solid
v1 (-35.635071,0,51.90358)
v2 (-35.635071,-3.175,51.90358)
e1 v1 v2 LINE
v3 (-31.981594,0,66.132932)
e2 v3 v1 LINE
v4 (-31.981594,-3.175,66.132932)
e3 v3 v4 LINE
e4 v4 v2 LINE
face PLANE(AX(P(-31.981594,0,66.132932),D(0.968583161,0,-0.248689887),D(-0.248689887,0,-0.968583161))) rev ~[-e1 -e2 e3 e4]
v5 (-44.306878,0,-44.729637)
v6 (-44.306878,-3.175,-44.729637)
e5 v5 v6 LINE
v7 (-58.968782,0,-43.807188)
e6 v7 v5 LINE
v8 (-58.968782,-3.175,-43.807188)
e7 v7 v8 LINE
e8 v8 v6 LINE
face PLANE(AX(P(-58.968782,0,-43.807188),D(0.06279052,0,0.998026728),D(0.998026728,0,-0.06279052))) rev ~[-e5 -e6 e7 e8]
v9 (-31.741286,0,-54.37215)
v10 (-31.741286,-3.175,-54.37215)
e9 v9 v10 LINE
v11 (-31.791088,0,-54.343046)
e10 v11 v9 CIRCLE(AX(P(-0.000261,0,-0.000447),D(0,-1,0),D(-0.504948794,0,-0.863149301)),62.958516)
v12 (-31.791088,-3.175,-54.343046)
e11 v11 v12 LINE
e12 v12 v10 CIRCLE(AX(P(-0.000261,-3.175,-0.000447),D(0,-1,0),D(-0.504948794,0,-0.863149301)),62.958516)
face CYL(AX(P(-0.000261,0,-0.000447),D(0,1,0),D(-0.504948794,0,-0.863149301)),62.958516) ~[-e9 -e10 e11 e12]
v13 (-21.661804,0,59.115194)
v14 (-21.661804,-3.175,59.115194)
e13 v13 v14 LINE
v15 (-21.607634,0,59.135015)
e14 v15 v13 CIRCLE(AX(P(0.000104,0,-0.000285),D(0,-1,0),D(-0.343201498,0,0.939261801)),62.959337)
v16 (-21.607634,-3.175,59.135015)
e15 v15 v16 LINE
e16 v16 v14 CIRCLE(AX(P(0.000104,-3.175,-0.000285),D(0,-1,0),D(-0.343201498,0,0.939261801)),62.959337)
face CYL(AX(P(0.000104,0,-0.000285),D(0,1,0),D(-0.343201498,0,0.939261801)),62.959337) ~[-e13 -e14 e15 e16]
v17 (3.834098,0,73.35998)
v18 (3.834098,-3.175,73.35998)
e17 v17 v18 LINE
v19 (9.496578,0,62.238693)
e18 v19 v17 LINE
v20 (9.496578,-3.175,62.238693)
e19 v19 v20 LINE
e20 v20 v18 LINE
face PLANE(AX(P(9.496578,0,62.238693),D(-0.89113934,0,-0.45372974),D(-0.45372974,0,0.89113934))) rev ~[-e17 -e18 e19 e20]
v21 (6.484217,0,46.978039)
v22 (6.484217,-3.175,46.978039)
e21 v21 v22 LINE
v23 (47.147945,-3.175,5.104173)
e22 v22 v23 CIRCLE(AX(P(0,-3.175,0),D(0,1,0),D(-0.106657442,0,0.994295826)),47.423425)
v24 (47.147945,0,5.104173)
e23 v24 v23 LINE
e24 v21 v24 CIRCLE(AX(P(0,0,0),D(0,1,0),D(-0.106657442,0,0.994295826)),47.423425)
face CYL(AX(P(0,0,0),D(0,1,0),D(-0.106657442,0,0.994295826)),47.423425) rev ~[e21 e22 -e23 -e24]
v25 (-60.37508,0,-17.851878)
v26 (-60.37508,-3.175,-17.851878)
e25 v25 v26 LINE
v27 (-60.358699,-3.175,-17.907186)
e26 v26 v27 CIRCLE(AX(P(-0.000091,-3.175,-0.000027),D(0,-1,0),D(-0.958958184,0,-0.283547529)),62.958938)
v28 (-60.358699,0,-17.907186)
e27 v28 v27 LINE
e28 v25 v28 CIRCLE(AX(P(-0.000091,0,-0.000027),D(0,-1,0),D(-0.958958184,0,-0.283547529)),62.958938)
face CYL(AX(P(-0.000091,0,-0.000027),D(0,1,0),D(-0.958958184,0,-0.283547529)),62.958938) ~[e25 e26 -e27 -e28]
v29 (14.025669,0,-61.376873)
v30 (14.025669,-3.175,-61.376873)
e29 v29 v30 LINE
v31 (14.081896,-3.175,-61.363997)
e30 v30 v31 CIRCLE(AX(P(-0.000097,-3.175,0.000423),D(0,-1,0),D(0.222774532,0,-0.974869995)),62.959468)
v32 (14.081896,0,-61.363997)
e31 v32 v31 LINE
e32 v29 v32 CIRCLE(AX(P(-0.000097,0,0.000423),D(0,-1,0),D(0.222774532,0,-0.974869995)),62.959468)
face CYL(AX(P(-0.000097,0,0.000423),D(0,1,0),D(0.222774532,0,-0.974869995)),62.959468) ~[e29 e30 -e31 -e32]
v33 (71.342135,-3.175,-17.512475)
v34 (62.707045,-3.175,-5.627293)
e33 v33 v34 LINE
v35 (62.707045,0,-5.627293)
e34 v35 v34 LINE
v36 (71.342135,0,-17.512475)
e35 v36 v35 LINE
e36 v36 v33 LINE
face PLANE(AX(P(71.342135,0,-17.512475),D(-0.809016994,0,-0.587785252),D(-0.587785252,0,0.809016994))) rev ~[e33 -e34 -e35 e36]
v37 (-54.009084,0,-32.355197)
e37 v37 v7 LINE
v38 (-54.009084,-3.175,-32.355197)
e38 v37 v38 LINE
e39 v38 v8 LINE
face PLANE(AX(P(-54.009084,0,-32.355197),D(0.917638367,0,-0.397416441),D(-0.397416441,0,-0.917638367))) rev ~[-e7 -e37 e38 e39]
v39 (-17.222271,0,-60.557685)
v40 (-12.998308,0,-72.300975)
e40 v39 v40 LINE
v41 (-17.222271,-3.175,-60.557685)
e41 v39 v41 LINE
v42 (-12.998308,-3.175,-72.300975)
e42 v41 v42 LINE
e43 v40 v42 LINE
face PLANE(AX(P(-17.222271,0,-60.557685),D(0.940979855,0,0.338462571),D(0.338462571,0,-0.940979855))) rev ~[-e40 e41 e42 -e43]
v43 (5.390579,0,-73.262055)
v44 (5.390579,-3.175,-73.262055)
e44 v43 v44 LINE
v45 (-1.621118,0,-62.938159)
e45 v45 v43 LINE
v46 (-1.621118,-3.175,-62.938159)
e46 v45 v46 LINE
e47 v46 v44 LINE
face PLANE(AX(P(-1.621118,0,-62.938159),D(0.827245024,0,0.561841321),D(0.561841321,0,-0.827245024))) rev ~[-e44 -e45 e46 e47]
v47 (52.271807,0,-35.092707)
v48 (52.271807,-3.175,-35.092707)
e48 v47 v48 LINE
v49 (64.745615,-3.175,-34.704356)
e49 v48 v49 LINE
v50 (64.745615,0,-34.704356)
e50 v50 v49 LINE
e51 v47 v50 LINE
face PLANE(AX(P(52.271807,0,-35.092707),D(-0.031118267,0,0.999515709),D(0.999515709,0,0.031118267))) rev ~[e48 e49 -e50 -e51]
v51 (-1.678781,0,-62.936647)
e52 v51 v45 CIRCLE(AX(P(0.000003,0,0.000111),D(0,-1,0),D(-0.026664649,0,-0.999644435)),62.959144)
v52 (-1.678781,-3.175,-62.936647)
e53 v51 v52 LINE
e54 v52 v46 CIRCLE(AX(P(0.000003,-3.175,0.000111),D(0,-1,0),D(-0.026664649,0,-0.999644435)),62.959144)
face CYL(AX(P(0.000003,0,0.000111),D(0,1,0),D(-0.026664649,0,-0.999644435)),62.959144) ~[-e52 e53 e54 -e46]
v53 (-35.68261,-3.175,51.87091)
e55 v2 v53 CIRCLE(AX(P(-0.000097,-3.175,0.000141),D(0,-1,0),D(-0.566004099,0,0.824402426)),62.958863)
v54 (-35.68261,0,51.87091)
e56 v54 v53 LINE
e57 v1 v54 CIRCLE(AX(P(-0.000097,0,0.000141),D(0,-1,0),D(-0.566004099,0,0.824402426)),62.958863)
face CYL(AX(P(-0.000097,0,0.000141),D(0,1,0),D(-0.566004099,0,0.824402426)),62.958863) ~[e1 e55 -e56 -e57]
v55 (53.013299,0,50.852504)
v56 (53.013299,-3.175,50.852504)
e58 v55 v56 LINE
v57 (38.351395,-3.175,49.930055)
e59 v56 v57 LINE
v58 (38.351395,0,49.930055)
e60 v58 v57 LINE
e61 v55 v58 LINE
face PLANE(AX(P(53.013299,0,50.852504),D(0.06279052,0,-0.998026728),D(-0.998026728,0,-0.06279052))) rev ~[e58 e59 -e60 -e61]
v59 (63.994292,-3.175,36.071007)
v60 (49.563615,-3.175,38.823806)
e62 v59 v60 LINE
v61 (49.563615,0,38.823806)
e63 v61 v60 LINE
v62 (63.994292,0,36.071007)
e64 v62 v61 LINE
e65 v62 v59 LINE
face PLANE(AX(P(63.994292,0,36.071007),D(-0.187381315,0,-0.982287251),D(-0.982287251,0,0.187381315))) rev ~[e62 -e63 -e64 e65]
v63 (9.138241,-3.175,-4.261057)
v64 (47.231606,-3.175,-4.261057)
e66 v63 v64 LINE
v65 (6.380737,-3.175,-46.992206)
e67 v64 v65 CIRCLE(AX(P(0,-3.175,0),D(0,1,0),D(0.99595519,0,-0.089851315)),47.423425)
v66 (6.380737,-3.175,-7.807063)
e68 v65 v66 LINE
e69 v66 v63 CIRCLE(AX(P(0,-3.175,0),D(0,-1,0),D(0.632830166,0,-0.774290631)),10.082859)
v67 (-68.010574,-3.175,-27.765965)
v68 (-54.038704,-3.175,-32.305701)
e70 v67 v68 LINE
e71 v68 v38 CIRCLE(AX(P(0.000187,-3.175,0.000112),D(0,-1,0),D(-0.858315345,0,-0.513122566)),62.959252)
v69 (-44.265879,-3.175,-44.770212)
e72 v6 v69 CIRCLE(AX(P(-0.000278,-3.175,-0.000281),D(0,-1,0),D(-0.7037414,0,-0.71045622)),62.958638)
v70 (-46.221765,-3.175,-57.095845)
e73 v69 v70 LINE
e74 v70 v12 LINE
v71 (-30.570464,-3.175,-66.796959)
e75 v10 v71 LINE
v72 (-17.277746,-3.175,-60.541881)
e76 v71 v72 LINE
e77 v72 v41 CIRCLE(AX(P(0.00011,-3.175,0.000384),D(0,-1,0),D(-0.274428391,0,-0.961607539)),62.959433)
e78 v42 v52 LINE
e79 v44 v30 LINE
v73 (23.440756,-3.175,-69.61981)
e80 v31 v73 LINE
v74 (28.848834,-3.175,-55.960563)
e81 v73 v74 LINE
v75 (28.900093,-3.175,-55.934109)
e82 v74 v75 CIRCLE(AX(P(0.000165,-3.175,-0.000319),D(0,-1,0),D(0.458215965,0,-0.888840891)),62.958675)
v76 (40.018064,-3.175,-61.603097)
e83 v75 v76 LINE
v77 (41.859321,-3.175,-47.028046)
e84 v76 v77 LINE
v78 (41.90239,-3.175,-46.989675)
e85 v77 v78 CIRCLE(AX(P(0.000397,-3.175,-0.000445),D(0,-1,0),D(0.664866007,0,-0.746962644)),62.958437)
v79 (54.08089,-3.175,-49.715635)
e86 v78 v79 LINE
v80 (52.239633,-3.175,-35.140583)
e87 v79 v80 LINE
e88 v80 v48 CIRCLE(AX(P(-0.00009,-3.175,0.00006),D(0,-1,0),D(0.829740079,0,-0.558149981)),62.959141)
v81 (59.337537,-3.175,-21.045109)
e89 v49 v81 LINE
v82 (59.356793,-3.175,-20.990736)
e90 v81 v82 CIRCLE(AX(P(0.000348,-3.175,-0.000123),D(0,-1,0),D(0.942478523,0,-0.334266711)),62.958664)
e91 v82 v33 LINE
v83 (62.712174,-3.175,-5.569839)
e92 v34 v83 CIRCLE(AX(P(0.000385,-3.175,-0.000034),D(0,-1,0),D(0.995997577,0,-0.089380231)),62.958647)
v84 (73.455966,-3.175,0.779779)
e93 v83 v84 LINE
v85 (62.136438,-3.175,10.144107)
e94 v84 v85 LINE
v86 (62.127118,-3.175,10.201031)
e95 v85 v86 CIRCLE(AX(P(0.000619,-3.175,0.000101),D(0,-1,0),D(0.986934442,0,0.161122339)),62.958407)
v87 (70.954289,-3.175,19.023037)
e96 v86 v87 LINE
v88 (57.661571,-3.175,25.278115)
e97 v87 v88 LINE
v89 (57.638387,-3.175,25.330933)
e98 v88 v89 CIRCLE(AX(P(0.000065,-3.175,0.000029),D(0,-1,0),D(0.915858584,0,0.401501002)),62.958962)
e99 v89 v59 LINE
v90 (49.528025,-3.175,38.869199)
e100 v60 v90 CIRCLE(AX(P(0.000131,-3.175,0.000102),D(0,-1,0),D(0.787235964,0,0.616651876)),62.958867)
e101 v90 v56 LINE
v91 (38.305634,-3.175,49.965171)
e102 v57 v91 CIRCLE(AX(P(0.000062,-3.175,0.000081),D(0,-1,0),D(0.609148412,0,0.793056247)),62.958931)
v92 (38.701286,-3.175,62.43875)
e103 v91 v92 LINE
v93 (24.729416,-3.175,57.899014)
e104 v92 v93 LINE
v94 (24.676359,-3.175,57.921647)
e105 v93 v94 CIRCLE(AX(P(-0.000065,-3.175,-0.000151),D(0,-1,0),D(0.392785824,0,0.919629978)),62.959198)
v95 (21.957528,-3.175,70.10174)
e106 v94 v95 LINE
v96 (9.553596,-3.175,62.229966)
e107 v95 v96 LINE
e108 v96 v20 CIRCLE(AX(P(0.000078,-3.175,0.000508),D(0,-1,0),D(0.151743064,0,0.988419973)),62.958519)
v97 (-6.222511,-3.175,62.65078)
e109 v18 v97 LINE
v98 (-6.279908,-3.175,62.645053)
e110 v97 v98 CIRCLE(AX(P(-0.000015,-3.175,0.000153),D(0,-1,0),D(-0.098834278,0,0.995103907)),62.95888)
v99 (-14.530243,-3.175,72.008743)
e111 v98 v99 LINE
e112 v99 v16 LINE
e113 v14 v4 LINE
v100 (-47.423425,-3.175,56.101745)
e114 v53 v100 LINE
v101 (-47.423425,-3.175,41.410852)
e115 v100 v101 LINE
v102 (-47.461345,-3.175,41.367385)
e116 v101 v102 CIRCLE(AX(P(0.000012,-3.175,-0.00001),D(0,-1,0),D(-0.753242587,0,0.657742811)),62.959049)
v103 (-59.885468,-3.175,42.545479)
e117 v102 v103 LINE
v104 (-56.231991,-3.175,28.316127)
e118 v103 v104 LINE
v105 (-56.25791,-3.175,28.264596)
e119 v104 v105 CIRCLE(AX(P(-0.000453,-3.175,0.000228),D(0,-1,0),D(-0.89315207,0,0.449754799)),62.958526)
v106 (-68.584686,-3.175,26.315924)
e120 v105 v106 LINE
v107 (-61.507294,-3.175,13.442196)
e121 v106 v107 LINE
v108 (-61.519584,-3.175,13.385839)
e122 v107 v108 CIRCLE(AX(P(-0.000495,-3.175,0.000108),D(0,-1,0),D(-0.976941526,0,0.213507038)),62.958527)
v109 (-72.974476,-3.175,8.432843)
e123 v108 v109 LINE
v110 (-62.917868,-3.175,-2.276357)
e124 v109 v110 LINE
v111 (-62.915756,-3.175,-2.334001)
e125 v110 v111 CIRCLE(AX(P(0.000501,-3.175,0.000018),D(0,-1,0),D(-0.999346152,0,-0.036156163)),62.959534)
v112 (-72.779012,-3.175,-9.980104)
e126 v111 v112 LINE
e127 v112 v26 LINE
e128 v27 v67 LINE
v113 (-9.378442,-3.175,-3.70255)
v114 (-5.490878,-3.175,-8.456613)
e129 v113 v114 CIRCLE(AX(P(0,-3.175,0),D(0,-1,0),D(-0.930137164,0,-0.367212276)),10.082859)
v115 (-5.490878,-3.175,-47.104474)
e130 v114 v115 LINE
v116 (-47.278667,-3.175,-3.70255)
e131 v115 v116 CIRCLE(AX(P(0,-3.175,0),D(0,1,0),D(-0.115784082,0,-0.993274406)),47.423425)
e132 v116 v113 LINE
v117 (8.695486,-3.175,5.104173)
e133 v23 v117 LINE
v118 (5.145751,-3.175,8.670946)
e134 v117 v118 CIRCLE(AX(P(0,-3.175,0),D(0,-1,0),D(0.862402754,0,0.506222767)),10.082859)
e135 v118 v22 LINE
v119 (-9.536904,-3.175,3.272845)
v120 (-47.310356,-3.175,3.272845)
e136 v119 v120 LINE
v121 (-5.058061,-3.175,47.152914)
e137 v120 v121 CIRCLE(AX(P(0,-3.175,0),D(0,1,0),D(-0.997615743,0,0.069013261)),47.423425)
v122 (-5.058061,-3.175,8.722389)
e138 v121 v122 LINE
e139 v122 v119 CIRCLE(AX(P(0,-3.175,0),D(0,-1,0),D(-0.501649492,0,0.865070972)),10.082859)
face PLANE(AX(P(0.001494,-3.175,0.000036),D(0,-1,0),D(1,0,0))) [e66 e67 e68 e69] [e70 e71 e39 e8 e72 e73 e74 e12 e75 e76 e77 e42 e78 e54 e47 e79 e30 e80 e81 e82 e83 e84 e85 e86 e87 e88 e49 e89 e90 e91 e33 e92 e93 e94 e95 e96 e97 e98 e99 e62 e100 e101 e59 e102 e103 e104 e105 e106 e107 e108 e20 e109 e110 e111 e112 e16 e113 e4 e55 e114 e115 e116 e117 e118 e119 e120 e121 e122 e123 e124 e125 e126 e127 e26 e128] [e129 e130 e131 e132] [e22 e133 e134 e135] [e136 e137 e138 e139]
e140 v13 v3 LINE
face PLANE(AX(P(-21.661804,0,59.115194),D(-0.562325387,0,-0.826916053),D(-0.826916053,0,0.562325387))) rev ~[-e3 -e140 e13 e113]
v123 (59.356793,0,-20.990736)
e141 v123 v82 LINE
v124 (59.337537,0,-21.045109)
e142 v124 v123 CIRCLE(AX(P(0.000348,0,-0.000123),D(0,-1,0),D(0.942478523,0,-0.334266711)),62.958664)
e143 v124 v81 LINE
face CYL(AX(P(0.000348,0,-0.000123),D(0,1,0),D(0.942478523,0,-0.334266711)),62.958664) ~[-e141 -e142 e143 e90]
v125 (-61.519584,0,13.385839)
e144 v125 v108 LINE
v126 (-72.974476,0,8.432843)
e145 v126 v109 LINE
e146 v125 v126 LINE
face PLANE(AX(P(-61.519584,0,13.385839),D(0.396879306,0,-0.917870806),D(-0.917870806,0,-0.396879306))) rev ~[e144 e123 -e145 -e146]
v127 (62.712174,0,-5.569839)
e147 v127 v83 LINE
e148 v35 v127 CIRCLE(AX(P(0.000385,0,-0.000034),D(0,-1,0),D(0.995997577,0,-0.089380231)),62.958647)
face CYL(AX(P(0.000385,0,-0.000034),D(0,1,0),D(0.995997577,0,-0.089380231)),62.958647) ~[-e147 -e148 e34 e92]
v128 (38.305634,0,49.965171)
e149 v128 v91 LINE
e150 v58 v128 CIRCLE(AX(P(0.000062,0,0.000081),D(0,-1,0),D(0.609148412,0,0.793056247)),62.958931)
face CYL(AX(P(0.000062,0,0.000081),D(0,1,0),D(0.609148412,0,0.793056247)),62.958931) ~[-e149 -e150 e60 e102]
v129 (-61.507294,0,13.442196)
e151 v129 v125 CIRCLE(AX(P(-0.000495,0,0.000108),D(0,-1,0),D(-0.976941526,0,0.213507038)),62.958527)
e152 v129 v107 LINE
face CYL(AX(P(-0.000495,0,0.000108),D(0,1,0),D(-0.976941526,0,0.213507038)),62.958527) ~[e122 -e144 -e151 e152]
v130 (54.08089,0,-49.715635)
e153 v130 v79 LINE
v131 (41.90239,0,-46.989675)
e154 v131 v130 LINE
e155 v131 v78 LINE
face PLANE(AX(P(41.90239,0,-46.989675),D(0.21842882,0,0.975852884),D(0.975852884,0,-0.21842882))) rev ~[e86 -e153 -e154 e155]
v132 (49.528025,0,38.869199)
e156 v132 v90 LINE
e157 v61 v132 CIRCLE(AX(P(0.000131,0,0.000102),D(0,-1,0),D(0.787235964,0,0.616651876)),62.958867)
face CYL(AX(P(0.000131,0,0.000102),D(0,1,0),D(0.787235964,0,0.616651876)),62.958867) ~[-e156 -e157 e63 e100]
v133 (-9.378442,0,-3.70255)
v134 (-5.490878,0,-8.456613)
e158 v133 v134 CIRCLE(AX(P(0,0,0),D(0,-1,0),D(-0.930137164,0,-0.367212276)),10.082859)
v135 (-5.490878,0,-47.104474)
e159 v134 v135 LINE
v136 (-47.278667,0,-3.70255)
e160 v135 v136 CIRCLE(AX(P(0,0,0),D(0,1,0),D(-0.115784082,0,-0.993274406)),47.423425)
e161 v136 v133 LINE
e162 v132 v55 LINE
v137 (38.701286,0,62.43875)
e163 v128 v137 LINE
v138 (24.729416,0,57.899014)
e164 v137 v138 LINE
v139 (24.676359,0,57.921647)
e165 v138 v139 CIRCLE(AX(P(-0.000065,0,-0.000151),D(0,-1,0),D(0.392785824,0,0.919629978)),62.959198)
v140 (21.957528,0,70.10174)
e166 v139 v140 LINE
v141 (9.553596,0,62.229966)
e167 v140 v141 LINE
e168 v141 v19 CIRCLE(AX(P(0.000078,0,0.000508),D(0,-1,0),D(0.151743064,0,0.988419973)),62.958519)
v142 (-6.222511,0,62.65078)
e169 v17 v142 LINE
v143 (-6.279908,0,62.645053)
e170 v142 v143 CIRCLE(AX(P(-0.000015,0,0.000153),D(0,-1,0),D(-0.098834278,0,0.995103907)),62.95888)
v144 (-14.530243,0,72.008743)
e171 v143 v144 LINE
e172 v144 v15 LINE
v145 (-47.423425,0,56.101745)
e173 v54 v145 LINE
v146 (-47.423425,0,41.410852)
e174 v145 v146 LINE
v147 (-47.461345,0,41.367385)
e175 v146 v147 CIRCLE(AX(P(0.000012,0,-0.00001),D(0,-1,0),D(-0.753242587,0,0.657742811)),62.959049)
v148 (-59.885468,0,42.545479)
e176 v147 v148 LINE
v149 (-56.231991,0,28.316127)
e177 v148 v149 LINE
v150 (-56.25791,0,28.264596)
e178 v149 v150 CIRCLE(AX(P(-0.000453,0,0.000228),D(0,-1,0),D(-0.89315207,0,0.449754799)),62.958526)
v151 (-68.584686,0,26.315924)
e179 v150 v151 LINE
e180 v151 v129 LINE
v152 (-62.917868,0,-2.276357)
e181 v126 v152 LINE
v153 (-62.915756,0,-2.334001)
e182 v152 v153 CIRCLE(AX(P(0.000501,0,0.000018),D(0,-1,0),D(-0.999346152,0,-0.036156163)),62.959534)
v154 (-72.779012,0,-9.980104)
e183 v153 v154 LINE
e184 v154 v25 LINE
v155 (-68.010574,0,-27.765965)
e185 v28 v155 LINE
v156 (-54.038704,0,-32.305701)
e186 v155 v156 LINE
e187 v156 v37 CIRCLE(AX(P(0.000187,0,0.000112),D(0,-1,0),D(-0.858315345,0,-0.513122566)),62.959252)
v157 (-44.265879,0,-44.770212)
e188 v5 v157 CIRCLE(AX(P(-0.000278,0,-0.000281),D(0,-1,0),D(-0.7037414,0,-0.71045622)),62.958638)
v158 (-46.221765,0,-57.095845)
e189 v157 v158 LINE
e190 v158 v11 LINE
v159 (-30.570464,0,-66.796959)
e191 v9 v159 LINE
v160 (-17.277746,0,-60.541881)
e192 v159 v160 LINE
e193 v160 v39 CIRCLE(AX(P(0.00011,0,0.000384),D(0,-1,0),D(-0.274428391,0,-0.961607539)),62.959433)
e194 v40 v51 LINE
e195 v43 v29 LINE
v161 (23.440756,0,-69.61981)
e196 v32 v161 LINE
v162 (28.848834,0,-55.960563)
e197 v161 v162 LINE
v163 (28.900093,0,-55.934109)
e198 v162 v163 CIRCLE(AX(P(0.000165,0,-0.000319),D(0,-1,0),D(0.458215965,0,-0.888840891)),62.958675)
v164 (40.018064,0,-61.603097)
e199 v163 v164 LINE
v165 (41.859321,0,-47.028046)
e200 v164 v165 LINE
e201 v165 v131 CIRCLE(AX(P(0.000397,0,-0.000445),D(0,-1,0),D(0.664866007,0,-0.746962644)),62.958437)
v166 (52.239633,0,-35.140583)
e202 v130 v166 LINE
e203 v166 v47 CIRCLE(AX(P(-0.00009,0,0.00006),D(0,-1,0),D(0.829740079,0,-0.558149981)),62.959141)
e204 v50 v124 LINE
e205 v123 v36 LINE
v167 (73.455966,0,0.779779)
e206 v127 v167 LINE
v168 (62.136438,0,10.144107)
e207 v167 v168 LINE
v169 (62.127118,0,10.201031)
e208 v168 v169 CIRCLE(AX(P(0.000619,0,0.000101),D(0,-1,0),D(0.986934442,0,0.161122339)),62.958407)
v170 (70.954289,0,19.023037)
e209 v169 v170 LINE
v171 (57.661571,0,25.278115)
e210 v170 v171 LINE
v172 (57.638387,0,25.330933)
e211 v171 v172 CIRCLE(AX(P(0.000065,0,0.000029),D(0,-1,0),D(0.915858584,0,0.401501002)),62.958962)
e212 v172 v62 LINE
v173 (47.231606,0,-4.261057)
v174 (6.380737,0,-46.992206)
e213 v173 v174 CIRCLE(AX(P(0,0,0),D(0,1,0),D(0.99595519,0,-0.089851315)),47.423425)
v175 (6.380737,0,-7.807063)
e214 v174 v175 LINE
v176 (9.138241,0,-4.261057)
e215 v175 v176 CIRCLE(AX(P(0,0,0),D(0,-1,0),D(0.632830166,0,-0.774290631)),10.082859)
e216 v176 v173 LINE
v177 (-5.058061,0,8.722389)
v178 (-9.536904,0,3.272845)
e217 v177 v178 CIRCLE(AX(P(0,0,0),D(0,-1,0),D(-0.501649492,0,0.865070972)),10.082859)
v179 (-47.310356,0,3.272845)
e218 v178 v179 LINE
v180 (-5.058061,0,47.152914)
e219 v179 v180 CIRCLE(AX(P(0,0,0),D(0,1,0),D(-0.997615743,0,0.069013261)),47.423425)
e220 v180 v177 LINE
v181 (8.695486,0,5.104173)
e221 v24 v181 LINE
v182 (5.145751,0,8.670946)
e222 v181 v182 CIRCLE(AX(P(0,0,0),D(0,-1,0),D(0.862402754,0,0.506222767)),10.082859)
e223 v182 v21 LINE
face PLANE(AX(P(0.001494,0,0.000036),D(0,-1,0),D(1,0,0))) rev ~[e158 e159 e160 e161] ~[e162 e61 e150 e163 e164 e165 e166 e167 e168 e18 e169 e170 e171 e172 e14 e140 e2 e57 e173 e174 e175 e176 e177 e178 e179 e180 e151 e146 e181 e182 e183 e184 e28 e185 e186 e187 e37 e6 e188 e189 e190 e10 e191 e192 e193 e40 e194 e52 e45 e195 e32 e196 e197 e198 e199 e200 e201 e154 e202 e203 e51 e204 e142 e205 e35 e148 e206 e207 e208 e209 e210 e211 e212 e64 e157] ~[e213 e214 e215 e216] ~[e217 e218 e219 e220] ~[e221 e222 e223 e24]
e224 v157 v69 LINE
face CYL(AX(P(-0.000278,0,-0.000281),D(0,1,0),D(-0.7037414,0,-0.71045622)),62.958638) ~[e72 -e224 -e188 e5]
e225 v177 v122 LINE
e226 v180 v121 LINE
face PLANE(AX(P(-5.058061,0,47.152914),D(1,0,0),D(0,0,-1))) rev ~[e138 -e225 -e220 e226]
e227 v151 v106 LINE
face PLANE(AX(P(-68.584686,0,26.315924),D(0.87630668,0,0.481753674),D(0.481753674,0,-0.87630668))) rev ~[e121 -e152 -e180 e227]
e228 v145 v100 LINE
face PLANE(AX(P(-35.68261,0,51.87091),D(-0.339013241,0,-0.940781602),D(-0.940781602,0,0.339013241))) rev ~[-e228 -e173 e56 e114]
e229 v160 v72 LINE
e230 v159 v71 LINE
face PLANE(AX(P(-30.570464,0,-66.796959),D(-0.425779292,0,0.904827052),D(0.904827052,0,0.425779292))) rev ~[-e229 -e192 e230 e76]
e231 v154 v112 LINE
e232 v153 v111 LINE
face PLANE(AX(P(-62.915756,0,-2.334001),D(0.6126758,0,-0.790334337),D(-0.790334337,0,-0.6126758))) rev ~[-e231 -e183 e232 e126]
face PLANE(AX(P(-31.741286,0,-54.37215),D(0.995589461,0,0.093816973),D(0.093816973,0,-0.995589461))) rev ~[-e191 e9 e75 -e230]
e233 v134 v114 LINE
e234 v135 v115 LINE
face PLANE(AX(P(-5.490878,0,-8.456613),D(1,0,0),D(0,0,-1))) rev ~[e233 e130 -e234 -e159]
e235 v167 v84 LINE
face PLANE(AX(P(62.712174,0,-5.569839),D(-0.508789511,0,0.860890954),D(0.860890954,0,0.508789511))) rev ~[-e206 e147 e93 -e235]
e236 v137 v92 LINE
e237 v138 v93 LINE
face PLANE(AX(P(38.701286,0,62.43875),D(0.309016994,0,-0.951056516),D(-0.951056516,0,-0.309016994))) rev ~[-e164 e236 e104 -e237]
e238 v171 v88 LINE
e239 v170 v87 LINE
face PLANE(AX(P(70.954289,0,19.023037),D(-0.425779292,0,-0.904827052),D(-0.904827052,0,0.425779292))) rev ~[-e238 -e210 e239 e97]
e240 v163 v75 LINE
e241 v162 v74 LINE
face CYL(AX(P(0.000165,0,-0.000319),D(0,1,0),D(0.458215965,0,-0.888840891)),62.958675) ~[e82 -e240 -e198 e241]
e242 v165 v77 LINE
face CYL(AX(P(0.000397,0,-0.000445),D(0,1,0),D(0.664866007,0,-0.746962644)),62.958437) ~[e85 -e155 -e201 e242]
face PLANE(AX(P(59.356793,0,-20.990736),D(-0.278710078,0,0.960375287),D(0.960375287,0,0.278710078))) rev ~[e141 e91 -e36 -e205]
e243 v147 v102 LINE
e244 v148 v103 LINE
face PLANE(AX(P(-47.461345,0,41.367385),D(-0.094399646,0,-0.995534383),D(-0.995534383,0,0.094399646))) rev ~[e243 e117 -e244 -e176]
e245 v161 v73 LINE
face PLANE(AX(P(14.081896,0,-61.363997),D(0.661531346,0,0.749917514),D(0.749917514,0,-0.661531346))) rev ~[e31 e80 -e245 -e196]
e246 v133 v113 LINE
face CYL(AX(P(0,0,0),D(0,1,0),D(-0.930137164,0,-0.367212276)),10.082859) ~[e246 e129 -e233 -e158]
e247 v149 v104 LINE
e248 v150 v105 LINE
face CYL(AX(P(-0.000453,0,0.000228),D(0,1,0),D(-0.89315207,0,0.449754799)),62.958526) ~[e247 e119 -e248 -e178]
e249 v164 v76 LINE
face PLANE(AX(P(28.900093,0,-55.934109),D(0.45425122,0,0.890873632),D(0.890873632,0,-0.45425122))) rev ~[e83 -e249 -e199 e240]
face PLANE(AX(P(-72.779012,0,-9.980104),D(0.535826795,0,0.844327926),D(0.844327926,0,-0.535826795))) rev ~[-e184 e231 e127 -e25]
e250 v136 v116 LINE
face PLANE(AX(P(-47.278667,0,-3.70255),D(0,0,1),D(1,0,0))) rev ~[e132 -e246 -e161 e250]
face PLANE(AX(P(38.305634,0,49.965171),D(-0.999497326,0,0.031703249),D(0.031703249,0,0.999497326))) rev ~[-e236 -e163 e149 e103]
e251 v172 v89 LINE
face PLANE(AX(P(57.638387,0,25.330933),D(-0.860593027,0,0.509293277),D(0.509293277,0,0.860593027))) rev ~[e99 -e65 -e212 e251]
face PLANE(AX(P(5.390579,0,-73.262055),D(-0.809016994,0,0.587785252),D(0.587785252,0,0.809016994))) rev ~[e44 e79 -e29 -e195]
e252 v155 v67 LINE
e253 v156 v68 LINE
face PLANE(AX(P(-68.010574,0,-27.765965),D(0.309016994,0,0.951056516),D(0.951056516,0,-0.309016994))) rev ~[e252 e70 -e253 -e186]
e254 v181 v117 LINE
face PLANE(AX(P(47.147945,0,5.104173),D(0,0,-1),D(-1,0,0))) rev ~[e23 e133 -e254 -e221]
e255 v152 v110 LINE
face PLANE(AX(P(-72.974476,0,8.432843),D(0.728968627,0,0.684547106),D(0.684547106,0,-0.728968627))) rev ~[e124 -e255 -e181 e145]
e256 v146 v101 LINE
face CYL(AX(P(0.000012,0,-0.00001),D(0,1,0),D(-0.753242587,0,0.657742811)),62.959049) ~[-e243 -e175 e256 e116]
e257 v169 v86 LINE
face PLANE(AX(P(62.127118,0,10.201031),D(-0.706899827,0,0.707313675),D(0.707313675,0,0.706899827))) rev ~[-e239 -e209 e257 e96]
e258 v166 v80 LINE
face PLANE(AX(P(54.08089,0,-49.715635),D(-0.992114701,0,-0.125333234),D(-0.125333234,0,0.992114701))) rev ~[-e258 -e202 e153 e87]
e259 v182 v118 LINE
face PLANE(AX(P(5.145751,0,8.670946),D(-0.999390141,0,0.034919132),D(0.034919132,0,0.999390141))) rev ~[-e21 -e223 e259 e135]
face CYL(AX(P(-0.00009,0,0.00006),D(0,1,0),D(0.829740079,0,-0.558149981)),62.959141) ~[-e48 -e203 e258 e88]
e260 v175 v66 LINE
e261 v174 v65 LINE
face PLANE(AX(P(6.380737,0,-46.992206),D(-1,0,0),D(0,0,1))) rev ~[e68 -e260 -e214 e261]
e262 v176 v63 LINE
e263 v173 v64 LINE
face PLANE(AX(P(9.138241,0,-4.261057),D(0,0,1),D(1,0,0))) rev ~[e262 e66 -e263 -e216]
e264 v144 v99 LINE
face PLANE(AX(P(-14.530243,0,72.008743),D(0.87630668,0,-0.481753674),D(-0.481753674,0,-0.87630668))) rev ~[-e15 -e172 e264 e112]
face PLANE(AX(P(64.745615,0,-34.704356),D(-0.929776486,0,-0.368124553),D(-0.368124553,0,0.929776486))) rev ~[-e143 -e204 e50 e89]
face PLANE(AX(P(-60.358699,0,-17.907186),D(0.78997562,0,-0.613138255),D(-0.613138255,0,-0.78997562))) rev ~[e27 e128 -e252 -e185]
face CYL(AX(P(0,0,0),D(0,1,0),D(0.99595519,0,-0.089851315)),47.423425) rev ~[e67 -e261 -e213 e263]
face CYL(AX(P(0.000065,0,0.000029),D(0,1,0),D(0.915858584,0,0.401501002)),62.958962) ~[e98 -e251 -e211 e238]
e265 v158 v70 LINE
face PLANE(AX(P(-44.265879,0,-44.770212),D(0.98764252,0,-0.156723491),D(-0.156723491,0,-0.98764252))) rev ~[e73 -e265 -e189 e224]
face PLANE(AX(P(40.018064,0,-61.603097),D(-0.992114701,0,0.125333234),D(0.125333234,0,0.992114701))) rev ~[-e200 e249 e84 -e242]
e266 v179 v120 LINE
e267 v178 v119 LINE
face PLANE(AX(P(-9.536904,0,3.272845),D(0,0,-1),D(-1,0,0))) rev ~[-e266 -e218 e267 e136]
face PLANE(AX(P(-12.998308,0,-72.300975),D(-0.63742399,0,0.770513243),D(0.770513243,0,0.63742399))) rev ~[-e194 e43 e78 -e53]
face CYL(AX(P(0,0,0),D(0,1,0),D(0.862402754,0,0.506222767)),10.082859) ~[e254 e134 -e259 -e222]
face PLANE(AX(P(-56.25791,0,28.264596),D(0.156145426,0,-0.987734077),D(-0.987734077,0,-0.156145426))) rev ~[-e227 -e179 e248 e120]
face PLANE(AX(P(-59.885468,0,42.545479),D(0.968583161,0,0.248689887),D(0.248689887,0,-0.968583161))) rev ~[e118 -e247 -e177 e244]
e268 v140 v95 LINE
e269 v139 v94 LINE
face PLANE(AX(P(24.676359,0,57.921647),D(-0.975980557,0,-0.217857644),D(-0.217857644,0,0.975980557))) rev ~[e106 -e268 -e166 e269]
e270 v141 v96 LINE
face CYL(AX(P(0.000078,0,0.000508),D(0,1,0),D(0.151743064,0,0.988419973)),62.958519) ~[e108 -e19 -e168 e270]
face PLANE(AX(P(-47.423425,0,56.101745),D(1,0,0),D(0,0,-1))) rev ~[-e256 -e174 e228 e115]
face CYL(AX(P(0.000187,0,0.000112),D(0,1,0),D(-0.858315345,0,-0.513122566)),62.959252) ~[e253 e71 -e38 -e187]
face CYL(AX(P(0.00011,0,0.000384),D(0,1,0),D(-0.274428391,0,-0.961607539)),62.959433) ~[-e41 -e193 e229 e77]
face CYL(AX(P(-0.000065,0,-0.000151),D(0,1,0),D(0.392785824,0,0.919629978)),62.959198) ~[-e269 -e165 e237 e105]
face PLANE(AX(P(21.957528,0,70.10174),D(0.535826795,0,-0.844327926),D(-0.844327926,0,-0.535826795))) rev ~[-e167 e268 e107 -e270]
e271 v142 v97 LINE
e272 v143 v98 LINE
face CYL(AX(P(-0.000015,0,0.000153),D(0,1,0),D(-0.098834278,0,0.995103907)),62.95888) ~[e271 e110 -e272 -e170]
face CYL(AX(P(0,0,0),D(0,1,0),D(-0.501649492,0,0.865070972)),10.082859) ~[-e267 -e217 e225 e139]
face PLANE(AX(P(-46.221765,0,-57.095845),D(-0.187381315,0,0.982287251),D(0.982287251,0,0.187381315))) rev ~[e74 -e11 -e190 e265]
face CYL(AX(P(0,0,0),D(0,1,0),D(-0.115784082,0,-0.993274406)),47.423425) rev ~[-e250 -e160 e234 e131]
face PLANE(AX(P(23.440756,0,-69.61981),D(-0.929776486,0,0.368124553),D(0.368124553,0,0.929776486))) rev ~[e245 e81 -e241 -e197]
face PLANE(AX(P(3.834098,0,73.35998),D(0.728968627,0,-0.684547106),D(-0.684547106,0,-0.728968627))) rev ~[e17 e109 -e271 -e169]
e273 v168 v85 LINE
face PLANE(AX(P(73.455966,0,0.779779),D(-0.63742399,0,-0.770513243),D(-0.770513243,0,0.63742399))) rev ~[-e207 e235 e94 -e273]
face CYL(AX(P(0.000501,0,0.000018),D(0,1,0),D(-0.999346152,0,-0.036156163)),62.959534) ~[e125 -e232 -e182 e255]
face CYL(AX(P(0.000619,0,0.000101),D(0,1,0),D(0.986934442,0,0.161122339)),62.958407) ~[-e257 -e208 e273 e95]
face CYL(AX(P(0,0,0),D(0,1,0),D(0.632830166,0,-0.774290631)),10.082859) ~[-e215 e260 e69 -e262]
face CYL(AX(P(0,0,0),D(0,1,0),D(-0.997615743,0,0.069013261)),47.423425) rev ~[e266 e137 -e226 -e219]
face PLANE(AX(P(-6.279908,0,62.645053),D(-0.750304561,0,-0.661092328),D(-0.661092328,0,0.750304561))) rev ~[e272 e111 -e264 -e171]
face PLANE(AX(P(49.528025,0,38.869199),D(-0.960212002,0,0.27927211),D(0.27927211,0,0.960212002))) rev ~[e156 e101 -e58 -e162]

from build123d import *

# Parameters (mm, degrees)
F1_DEPTH = 3.175


with BuildPart() as f1:
    # F0 (on Front) → F1 (new body)
    with BuildSketch(Plane.XZ):
        with BuildLine():
            ThreePointArc((62.7121740453, -5.569838893), (62.8972882371, -2.7876533502), (62.9590333374, 0))
            ThreePointArc((62.9590333374, 0), (62.7530476298, 5.088702384), (62.1364383711, 10.1441069263))
            ThreePointArc((62.1364383711, 10.1441069263), (62.1317848967, 10.1725701931), (62.1271183838, 10.2010313252))
            ThreePointArc((62.1271183838, 10.2010313252), (60.3668960989, 17.879533947), (57.6615710919, 25.2781150008))
            ThreePointArc((57.6615710919, 25.2781150008), (57.6499852883, 25.3045267697), (57.6383873868, 25.3309332285))
            ThreePointArc((57.6383873868, 25.3309332285), (54.0238997712, 32.3304520892), (49.5636152365, 38.8238061434))
            ThreePointArc((49.5636152365, 38.8238061434), (49.5458250824, 38.8465068659), (49.5280245311, 38.8691994364))
            ThreePointArc((49.5280245311, 38.8691994364), (44.2863831348, 44.7499290236), (38.3513951536, 49.9300547621))
            ThreePointArc((38.3513951536, 49.9300547621), (38.3285184698, 49.9476180682), (38.3056337427, 49.9651708928))
            ThreePointArc((38.3056337427, 49.9651708928), (31.7661901722, 54.3576033387), (24.7294158667, 57.8990144102))
            ThreePointArc((24.7294158667, 57.8990144102), (24.7028900793, 57.9103367328), (24.6763591081, 57.9216469029))
            ThreePointArc((24.6763591081, 57.9216469029), (17.2500106531, 60.5497895227), (9.5535964324, 62.2299660452))
            ThreePointArc((9.5535964324, 62.2299660452), (9.5250882543, 62.2343359612), (9.4965780774, 62.2386928172))
            ThreePointArc((9.4965780774, 62.2386928172), (1.6499495237, 62.9374097445), (-6.2225106014, 62.6507800478))
            ThreePointArc((-6.2225106014, 62.6507800478), (-6.2512098966, 62.6479229792), (-6.2799078799, 62.6450527639))
            ThreePointArc((-6.2799078799, 62.6450527639), (-14.0537840025, 61.3704410444), (-21.6076344094, 59.1350151265))
            ThreePointArc((-21.6076344094, 59.1350151265), (-21.6347215393, 59.1251105935), (-21.6618041293, 59.1151936531))
            ThreePointArc((-21.6618041293, 59.1151936531), (-28.8744665935, 55.9473418289), (-35.63507108, 51.9035797214))
            ThreePointArc((-35.63507108, 51.9035797214), (-35.6588440608, 51.8872500623), (-35.6826095586, 51.8709095146))
            ThreePointArc((-35.6826095586, 51.8709095146), (-41.8808602557, 47.0088653663), (-47.4234251781, 41.4108515145))
            ThreePointArc((-47.4234251781, 41.4108515145), (-47.4423902659, 41.3891227817), (-47.4613453979, 41.3673853634))
            ThreePointArc((-47.4613453979, 41.3673853634), (-52.2557254409, 35.1166490062), (-56.2319910611, 28.3161272084))
            ThreePointArc((-56.2319910611, 28.3161272084), (-56.2449566097, 28.2903646982), (-56.2579103552, 28.2645962512))
            ThreePointArc((-56.2579103552, 28.2645962512), (-59.3471712136, 21.017924439), (-61.5072941389, 13.4421964904))
            ThreePointArc((-61.5072941389, 13.4421964904), (-61.5134454752, 13.414018956), (-61.5195839028, 13.3858386066))
            ThreePointArc((-61.5195839028, 13.3858386066), (-62.7096159553, 5.5985663809), (-62.917867718, -2.27635687))
            ThreePointArc((-62.917867718, -2.27635687), (-62.9168183308, -2.3051789305), (-62.9157557406, -2.3340005073))
            ThreePointArc((-62.9157557406, -2.3340005073), (-62.1317848967, -10.1725701931), (-60.3750802726, -17.8518783565))
            ThreePointArc((-60.3750802726, -17.8518783565), (-60.3668960989, -17.879533947), (-60.3586992572, -17.9071857854))
            ThreePointArc((-60.3586992572, -17.9071857854), (-57.6499852883, -25.3045267697), (-54.0387044897, -32.3057006712))
            ThreePointArc((-54.0387044897, -32.3057006712), (-54.0238997712, -32.3304520892), (-54.0090837158, -32.3551967227))
            ThreePointArc((-54.0090837158, -32.3551967227), (-49.5458250824, -38.8465068659), (-44.3068781632, -44.7296370006))
            ThreePointArc((-44.3068781632, -44.7296370006), (-44.2863831348, -44.7499290236), (-44.2658788129, -44.7702116557))
            ThreePointArc((-44.2658788129, -44.7702116557), (-38.3285184698, -49.9476180682), (-31.7910877325, -54.3430457332))
            ThreePointArc((-31.7910877325, -54.3430457332), (-31.7661901722, -54.3576033387), (-31.7412859458, -54.3721495371))
            ThreePointArc((-31.7412859458, -54.3721495371), (-24.7028900793, -57.9103367328), (-17.27774634, -60.5418810427))
            ThreePointArc((-17.27774634, -60.5418810427), (-17.2500106531, -60.5497895227), (-17.2222713463, -60.5576852964))
            ThreePointArc((-17.2222713463, -60.5576852964), (-9.5250882543, -62.2343359612), (-1.678780602, -62.9366473088))
            ThreePointArc((-1.678780602, -62.9366473088), (-1.6499495237, -62.9374097445), (-1.6211180991, -62.9381589728))
            ThreePointArc((-1.6211180991, -62.9381589728), (6.2512098966, -62.6479229792), (14.0256690955, -61.3768725596))
            ThreePointArc((14.0256690955, -61.3768725596), (14.0537840025, -61.3704410444), (14.0818959603, -61.3639966507))
            ThreePointArc((14.0818959603, -61.3639966507), (21.6347215393, -59.1251105935), (28.8488344208, -55.9605631792))
            ThreePointArc((28.8488344208, -55.9605631792), (28.8744665935, -55.9473418289), (28.900092707, -55.9341087379))
            ThreePointArc((28.900092707, -55.9341087379), (35.6588440608, -51.8872500623), (41.8593213809, -47.0280458057))
            ThreePointArc((41.8593213809, -47.0280458057), (41.8808602557, -47.0088653663), (41.9023903417, -46.989675062))
            ThreePointArc((41.9023903417, -46.989675062), (47.4423902659, -41.3891227817), (52.2396332309, -35.1405833572))
            ThreePointArc((52.2396332309, -35.1405833572), (52.2557254409, -35.1166490062), (52.2718066851, -35.0927072859))
            ThreePointArc((52.2718066851, -35.0927072859), (56.2449566097, -28.2903646982), (59.3375368009, -21.0451088183))
            ThreePointArc((59.3375368009, -21.0451088183), (59.3471712136, -21.017924439), (59.3567931722, -20.9907356491))
            ThreePointArc((59.3567931722, -20.9907356491), (61.5134454752, -13.414018956), (62.7070447056, -5.6272926939))
            ThreePointArc((62.7070447056, -5.6272926939), (62.7096159553, -5.5985663809), (62.7121740453, -5.569838893))
        make_face()
        with BuildLine():
            ThreePointArc((6.4842174363, 46.9780393361), (34.0214251963, 33.038218524), (47.1479445438, 5.104172893))
            ThreePointArc((47.1479445438, 5.104172893), (47.3545049388, 2.5558007797), (47.4234251781, 0))
            ThreePointArc((47.4234251781, 0), (47.375446226, -2.132686219), (47.2316064517, -4.2610571003))
            ThreePointArc((47.2316064517, -4.2610571003), (34.2791282202, -32.7707586743), (6.3807374771, -46.9922062141))
            ThreePointArc((6.3807374771, -46.9922062141), (0.448456932, -47.4213047269), (-5.4908777614, -47.1044744906))
            ThreePointArc((-5.4908777614, -47.1044744906), (-34.1626695471, -32.8921459476), (-47.2786672976, -3.7025496874))
            ThreePointArc((-47.2786672976, -3.7025496874), (-47.4229358339, -0.2154356435), (-47.3103555233, 3.2728452281))
            ThreePointArc((-47.3103555233, 3.2728452281), (-34.1610578081, 32.8938198612), (-5.0580612114, 47.1529137213))
            ThreePointArc((-5.0580612114, 47.1529137213), (0.7184188591, 47.4179831917), (6.4842174363, 46.9780393361))
        make_face(mode=Mode.SUBTRACT)
        with BuildLine():
            ThreePointArc((62.1364383711, 10.1441069263), (62.7530476298, 5.088702384), (62.9590333374, 0))
            ThreePointArc((62.9590333374, 0), (62.8972882371, -2.7876533502), (62.7121740453, -5.569838893))
            Line((62.7121740453, -5.569838893), (73.4559661565, 0.7797791477))
            Line((73.4559661565, 0.7797791477), (62.1364383711, 10.1441069263))
        make_face()
        with BuildLine():
            ThreePointArc((57.6615710919, 25.2781150008), (60.3668960989, 17.879533947), (62.1271183838, 10.2010313252))
            Line((62.1271183838, 10.2010313252), (70.9542887154, 19.0230368869))
            Line((70.9542887154, 19.0230368869), (57.6615710919, 25.2781150008))
        make_face()
        with BuildLine():
            Line((71.3421350919, -17.5124749832), (62.7070447056, -5.6272926939))
            ThreePointArc((62.7070447056, -5.6272926939), (61.5134454752, -13.414018956), (59.3567931722, -20.9907356491))
            Line((59.3567931722, -20.9907356491), (71.3421350919, -17.5124749832))
        make_face()
        with BuildLine():
            ThreePointArc((49.5636152365, 38.8238061434), (54.0238997712, 32.3304520892), (57.6383873868, 25.3309332285))
            Line((57.6383873868, 25.3309332285), (63.9942923626, 36.0710072567))
            Line((63.9942923626, 36.0710072567), (49.5636152365, 38.8238061434))
        make_face()
        with BuildLine():
            Line((64.7456153015, -34.7043559045), (59.3375368009, -21.0451088183))
            ThreePointArc((59.3375368009, -21.0451088183), (56.2449566097, -28.2903646982), (52.2718066851, -35.0927072859))
            Line((52.2718066851, -35.0927072859), (64.7456153015, -34.7043559045))
        make_face()
        with BuildLine():
            ThreePointArc((38.3513951536, 49.9300547621), (44.2863831348, 44.7499290236), (49.5280245311, 38.8691994364))
            Line((49.5280245311, 38.8691994364), (53.0132992662, 50.8525035807))
            Line((53.0132992662, 50.8525035807), (38.3513951536, 49.9300547621))
        make_face()
        with BuildLine():
            Line((54.0808903839, -49.7156345106), (52.2396332309, -35.1405833572))
            ThreePointArc((52.2396332309, -35.1405833572), (47.4423902659, -41.3891227817), (41.9023903417, -46.989675062))
            Line((41.9023903417, -46.989675062), (54.0808903839, -49.7156345106))
        make_face()
        with BuildLine():
            ThreePointArc((24.7294158667, 57.8990144102), (31.7661901722, 54.3576033387), (38.3056337427, 49.9651708928))
            Line((38.3056337427, 49.9651708928), (38.7012856076, 62.4387500822))
            Line((38.7012856076, 62.4387500822), (24.7294158667, 57.8990144102))
        make_face()
        with BuildLine():
            Line((40.0180642279, -61.6030969592), (41.8593213809, -47.0280458057))
            ThreePointArc((41.8593213809, -47.0280458057), (35.6588440608, -51.8872500623), (28.900092707, -55.9341087379))
            Line((28.900092707, -55.9341087379), (40.0180642279, -61.6030969592))
        make_face()
        with BuildLine():
            ThreePointArc((9.5535964324, 62.2299660452), (17.2500106531, 60.5497895227), (24.6763591081, 57.9216469029))
            Line((24.6763591081, 57.9216469029), (21.9575278409, 70.1017402824))
            Line((21.9575278409, 70.1017402824), (9.5535964324, 62.2299660452))
        make_face()
        with BuildLine():
            Line((23.4407559203, -69.6198102654), (28.8488344208, -55.9605631792))
            ThreePointArc((28.8488344208, -55.9605631792), (21.6347215393, -59.1251105935), (14.0818959603, -61.3639966507))
            Line((14.0818959603, -61.3639966507), (23.4407559203, -69.6198102654))
        make_face()
        with BuildLine():
            ThreePointArc((-6.2225106014, 62.6507800478), (1.6499495237, 62.9374097445), (9.4965780774, 62.2386928172))
            Line((9.4965780774, 62.2386928172), (3.8340978458, 73.3599803245))
            Line((3.8340978458, 73.3599803245), (-6.2225106014, 62.6507800478))
        make_face()
        with BuildLine():
            Line((5.3905787092, -73.2620548489), (14.0256690955, -61.3768725596))
            ThreePointArc((14.0256690955, -61.3768725596), (6.2512098966, -62.6479229792), (-1.6211180991, -62.9381589728))
            Line((-1.6211180991, -62.9381589728), (5.3905787092, -73.2620548489))
        make_face()
        with BuildLine():
            ThreePointArc((-21.6076344094, 59.1350151265), (-14.0537840025, 61.3704410444), (-6.2799078799, 62.6450527639))
            Line((-6.2799078799, 62.6450527639), (-14.5302426178, 72.0087430037))
            Line((-14.5302426178, 72.0087430037), (-21.6076344094, 59.1350151265))
        make_face()
        with BuildLine():
            Line((-12.9983083874, -72.3009750873), (-1.678780602, -62.9366473088))
            ThreePointArc((-1.678780602, -62.9366473088), (-9.5250882543, -62.2343359612), (-17.2222713463, -60.5576852964))
            Line((-17.2222713463, -60.5576852964), (-12.9983083874, -72.3009750873))
        make_face()
        with BuildLine():
            ThreePointArc((-35.63507108, 51.9035797214), (-28.8744665935, 55.9473418289), (-21.6618041293, 59.1151936531))
            Line((-21.6618041293, 59.1151936531), (-31.9815944992, 66.1329315304))
            Line((-31.9815944992, 66.1329315304), (-35.63507108, 51.9035797214))
        make_face()
        with BuildLine():
            Line((-30.5704639635, -66.7969591566), (-17.27774634, -60.5418810427))
            ThreePointArc((-17.27774634, -60.5418810427), (-24.7028900793, -57.9103367328), (-31.7412859458, -54.3721495371))
            Line((-31.7412859458, -54.3721495371), (-30.5704639635, -66.7969591566))
        make_face()
        with BuildLine():
            ThreePointArc((-47.4234251781, 41.4108515145), (-41.8808602557, 47.0088653663), (-35.6826095586, 51.8709095146))
            Line((-35.6826095586, 51.8709095146), (-47.4234251781, 56.101744749))
            Line((-47.4234251781, 56.101744749), (-47.4234251781, 41.4108515145))
        make_face()
        with BuildLine():
            Line((-46.2217648586, -57.09584462), (-31.7910877325, -54.3430457332))
            ThreePointArc((-31.7910877325, -54.3430457332), (-38.3285184698, -49.9476180682), (-44.2658788129, -44.7702116557))
            Line((-44.2658788129, -44.7702116557), (-46.2217648586, -57.09584462))
        make_face()
        with BuildLine():
            ThreePointArc((-56.2319910611, 28.3161272084), (-52.2557254409, 35.1166490062), (-47.4613453979, 41.3673853634))
            Line((-47.4613453979, 41.3673853634), (-59.8854676419, 42.5454790173))
            Line((-59.8854676419, 42.5454790173), (-56.2319910611, 28.3161272084))
        make_face()
        with BuildLine():
            Line((-58.9687822758, -43.8071881821), (-44.3068781632, -44.7296370006))
            ThreePointArc((-44.3068781632, -44.7296370006), (-49.5458250824, -38.8465068659), (-54.0090837158, -32.3551967227))
            Line((-54.0090837158, -32.3551967227), (-58.9687822758, -43.8071881821))
        make_face()
        with BuildLine():
            ThreePointArc((-61.5072941389, 13.4421964904), (-59.3471712136, 21.017924439), (-56.2579103552, 28.2645962512))
            Line((-56.2579103552, 28.2645962512), (-68.5846859305, 26.3159243676))
            Line((-68.5846859305, 26.3159243676), (-61.5072941389, 13.4421964904))
        make_face()
        with BuildLine():
            Line((-68.0105742306, -27.7659649991), (-54.0387044897, -32.3057006712))
            ThreePointArc((-54.0387044897, -32.3057006712), (-57.6499852883, -25.3045267697), (-60.3586992572, -17.9071857854))
            Line((-60.3586992572, -17.9071857854), (-68.0105742306, -27.7659649991))
        make_face()
        with BuildLine():
            ThreePointArc((-62.917867718, -2.27635687), (-62.7096159553, 5.5985663809), (-61.5195839028, 13.3858386066))
            Line((-61.5195839028, 13.3858386066), (-72.9744761652, 8.4328434067))
            Line((-72.9744761652, 8.4328434067), (-62.917867718, -2.27635687))
        make_face()
        with BuildLine():
            Line((-72.7790116811, -9.9801041192), (-60.3750802726, -17.8518783565))
            ThreePointArc((-60.3750802726, -17.8518783565), (-62.1317848967, -10.1725701931), (-62.9157557406, -2.3340005073))
            Line((-62.9157557406, -2.3340005073), (-72.7790116811, -9.9801041192))
        make_face()
        with BuildLine():
            ThreePointArc((-5.0580612114, 8.722388835), (0.0508326683, 10.0827310907), (5.1457507073, 8.6709457308))
            Line((5.1457507073, 8.6709457308), (6.4842174363, 46.9780393361))
            ThreePointArc((6.4842174363, 46.9780393361), (0.7184188591, 47.4179831917), (-5.0580612114, 47.1529137213))
            Line((-5.0580612114, 47.1529137213), (-5.0580612114, 8.722388835))
        make_face()
        with BuildLine():
            Line((6.3807374771, -46.9922062141), (6.3807374771, -7.8070634336))
            ThreePointArc((6.3807374771, -7.8070634336), (0.5508551492, -10.0678005946), (-5.4908777614, -8.456613484))
            Line((-5.4908777614, -8.456613484), (-5.4908777614, -47.1044744906))
            ThreePointArc((-5.4908777614, -47.1044744906), (0.448456932, -47.4213047269), (6.3807374771, -46.9922062141))
        make_face()
        with BuildLine():
            ThreePointArc((8.6954855693, 5.104172893), (9.7298357417, 2.644682712), (10.0828592278, 0))
            ThreePointArc((10.0828592278, 0), (9.8438723199, -2.1822529543), (9.1382406729, -4.2610571003))
            Line((9.1382406729, -4.2610571003), (47.2316064517, -4.2610571003))
            ThreePointArc((47.2316064517, -4.2610571003), (47.375446226, -2.132686219), (47.4234251781, 0))
            ThreePointArc((47.4234251781, 0), (47.3545049388, 2.5558007797), (47.1479445438, 5.104172893))
            Line((47.1479445438, 5.104172893), (8.6954855693, 5.104172893))
        make_face()
        with BuildLine():
            ThreePointArc((-9.3784420892, -3.7025496874), (-10.0802584886, -0.228995655), (-9.5369038121, 3.2728452281))
            Line((-9.5369038121, 3.2728452281), (-47.3103555233, 3.2728452281))
            ThreePointArc((-47.3103555233, 3.2728452281), (-47.4229358339, -0.2154356435), (-47.2786672976, -3.7025496874))
            Line((-47.2786672976, -3.7025496874), (-9.3784420892, -3.7025496874))
        make_face()
        with BuildLine():
            ThreePointArc((9.1382406729, -4.2610571003), (9.8438723199, -2.1822529543), (10.0828592278, 0))
            ThreePointArc((10.0828592278, 0), (9.7298357417, 2.644682712), (8.6954855693, 5.104172893))
            ThreePointArc((8.6954855693, 5.104172893), (7.1467071113, 7.1125682895), (5.1457507073, 8.6709457308))
            ThreePointArc((5.1457507073, 8.6709457308), (0.0508326683, 10.0827310907), (-5.0580612114, 8.722388835))
            ThreePointArc((-5.0580612114, 8.722388835), (-7.7895848664, 6.4020635593), (-9.5369038121, 3.2728452281))
            ThreePointArc((-9.5369038121, 3.2728452281), (-10.0802584886, -0.228995655), (-9.3784420892, -3.7025496874))
            ThreePointArc((-9.3784420892, -3.7025496874), (-7.8054115106, -6.3827581309), (-5.4908777614, -8.456613484))
            ThreePointArc((-5.4908777614, -8.456613484), (0.5508551492, -10.0678005946), (6.3807374771, -7.8070634336))
            ThreePointArc((6.3807374771, -7.8070634336), (7.9594730312, -6.1895750479), (9.1382406729, -4.2610571003))
        make_face()
    extrude(amount=F1_DEPTH)


solid = f1.part
